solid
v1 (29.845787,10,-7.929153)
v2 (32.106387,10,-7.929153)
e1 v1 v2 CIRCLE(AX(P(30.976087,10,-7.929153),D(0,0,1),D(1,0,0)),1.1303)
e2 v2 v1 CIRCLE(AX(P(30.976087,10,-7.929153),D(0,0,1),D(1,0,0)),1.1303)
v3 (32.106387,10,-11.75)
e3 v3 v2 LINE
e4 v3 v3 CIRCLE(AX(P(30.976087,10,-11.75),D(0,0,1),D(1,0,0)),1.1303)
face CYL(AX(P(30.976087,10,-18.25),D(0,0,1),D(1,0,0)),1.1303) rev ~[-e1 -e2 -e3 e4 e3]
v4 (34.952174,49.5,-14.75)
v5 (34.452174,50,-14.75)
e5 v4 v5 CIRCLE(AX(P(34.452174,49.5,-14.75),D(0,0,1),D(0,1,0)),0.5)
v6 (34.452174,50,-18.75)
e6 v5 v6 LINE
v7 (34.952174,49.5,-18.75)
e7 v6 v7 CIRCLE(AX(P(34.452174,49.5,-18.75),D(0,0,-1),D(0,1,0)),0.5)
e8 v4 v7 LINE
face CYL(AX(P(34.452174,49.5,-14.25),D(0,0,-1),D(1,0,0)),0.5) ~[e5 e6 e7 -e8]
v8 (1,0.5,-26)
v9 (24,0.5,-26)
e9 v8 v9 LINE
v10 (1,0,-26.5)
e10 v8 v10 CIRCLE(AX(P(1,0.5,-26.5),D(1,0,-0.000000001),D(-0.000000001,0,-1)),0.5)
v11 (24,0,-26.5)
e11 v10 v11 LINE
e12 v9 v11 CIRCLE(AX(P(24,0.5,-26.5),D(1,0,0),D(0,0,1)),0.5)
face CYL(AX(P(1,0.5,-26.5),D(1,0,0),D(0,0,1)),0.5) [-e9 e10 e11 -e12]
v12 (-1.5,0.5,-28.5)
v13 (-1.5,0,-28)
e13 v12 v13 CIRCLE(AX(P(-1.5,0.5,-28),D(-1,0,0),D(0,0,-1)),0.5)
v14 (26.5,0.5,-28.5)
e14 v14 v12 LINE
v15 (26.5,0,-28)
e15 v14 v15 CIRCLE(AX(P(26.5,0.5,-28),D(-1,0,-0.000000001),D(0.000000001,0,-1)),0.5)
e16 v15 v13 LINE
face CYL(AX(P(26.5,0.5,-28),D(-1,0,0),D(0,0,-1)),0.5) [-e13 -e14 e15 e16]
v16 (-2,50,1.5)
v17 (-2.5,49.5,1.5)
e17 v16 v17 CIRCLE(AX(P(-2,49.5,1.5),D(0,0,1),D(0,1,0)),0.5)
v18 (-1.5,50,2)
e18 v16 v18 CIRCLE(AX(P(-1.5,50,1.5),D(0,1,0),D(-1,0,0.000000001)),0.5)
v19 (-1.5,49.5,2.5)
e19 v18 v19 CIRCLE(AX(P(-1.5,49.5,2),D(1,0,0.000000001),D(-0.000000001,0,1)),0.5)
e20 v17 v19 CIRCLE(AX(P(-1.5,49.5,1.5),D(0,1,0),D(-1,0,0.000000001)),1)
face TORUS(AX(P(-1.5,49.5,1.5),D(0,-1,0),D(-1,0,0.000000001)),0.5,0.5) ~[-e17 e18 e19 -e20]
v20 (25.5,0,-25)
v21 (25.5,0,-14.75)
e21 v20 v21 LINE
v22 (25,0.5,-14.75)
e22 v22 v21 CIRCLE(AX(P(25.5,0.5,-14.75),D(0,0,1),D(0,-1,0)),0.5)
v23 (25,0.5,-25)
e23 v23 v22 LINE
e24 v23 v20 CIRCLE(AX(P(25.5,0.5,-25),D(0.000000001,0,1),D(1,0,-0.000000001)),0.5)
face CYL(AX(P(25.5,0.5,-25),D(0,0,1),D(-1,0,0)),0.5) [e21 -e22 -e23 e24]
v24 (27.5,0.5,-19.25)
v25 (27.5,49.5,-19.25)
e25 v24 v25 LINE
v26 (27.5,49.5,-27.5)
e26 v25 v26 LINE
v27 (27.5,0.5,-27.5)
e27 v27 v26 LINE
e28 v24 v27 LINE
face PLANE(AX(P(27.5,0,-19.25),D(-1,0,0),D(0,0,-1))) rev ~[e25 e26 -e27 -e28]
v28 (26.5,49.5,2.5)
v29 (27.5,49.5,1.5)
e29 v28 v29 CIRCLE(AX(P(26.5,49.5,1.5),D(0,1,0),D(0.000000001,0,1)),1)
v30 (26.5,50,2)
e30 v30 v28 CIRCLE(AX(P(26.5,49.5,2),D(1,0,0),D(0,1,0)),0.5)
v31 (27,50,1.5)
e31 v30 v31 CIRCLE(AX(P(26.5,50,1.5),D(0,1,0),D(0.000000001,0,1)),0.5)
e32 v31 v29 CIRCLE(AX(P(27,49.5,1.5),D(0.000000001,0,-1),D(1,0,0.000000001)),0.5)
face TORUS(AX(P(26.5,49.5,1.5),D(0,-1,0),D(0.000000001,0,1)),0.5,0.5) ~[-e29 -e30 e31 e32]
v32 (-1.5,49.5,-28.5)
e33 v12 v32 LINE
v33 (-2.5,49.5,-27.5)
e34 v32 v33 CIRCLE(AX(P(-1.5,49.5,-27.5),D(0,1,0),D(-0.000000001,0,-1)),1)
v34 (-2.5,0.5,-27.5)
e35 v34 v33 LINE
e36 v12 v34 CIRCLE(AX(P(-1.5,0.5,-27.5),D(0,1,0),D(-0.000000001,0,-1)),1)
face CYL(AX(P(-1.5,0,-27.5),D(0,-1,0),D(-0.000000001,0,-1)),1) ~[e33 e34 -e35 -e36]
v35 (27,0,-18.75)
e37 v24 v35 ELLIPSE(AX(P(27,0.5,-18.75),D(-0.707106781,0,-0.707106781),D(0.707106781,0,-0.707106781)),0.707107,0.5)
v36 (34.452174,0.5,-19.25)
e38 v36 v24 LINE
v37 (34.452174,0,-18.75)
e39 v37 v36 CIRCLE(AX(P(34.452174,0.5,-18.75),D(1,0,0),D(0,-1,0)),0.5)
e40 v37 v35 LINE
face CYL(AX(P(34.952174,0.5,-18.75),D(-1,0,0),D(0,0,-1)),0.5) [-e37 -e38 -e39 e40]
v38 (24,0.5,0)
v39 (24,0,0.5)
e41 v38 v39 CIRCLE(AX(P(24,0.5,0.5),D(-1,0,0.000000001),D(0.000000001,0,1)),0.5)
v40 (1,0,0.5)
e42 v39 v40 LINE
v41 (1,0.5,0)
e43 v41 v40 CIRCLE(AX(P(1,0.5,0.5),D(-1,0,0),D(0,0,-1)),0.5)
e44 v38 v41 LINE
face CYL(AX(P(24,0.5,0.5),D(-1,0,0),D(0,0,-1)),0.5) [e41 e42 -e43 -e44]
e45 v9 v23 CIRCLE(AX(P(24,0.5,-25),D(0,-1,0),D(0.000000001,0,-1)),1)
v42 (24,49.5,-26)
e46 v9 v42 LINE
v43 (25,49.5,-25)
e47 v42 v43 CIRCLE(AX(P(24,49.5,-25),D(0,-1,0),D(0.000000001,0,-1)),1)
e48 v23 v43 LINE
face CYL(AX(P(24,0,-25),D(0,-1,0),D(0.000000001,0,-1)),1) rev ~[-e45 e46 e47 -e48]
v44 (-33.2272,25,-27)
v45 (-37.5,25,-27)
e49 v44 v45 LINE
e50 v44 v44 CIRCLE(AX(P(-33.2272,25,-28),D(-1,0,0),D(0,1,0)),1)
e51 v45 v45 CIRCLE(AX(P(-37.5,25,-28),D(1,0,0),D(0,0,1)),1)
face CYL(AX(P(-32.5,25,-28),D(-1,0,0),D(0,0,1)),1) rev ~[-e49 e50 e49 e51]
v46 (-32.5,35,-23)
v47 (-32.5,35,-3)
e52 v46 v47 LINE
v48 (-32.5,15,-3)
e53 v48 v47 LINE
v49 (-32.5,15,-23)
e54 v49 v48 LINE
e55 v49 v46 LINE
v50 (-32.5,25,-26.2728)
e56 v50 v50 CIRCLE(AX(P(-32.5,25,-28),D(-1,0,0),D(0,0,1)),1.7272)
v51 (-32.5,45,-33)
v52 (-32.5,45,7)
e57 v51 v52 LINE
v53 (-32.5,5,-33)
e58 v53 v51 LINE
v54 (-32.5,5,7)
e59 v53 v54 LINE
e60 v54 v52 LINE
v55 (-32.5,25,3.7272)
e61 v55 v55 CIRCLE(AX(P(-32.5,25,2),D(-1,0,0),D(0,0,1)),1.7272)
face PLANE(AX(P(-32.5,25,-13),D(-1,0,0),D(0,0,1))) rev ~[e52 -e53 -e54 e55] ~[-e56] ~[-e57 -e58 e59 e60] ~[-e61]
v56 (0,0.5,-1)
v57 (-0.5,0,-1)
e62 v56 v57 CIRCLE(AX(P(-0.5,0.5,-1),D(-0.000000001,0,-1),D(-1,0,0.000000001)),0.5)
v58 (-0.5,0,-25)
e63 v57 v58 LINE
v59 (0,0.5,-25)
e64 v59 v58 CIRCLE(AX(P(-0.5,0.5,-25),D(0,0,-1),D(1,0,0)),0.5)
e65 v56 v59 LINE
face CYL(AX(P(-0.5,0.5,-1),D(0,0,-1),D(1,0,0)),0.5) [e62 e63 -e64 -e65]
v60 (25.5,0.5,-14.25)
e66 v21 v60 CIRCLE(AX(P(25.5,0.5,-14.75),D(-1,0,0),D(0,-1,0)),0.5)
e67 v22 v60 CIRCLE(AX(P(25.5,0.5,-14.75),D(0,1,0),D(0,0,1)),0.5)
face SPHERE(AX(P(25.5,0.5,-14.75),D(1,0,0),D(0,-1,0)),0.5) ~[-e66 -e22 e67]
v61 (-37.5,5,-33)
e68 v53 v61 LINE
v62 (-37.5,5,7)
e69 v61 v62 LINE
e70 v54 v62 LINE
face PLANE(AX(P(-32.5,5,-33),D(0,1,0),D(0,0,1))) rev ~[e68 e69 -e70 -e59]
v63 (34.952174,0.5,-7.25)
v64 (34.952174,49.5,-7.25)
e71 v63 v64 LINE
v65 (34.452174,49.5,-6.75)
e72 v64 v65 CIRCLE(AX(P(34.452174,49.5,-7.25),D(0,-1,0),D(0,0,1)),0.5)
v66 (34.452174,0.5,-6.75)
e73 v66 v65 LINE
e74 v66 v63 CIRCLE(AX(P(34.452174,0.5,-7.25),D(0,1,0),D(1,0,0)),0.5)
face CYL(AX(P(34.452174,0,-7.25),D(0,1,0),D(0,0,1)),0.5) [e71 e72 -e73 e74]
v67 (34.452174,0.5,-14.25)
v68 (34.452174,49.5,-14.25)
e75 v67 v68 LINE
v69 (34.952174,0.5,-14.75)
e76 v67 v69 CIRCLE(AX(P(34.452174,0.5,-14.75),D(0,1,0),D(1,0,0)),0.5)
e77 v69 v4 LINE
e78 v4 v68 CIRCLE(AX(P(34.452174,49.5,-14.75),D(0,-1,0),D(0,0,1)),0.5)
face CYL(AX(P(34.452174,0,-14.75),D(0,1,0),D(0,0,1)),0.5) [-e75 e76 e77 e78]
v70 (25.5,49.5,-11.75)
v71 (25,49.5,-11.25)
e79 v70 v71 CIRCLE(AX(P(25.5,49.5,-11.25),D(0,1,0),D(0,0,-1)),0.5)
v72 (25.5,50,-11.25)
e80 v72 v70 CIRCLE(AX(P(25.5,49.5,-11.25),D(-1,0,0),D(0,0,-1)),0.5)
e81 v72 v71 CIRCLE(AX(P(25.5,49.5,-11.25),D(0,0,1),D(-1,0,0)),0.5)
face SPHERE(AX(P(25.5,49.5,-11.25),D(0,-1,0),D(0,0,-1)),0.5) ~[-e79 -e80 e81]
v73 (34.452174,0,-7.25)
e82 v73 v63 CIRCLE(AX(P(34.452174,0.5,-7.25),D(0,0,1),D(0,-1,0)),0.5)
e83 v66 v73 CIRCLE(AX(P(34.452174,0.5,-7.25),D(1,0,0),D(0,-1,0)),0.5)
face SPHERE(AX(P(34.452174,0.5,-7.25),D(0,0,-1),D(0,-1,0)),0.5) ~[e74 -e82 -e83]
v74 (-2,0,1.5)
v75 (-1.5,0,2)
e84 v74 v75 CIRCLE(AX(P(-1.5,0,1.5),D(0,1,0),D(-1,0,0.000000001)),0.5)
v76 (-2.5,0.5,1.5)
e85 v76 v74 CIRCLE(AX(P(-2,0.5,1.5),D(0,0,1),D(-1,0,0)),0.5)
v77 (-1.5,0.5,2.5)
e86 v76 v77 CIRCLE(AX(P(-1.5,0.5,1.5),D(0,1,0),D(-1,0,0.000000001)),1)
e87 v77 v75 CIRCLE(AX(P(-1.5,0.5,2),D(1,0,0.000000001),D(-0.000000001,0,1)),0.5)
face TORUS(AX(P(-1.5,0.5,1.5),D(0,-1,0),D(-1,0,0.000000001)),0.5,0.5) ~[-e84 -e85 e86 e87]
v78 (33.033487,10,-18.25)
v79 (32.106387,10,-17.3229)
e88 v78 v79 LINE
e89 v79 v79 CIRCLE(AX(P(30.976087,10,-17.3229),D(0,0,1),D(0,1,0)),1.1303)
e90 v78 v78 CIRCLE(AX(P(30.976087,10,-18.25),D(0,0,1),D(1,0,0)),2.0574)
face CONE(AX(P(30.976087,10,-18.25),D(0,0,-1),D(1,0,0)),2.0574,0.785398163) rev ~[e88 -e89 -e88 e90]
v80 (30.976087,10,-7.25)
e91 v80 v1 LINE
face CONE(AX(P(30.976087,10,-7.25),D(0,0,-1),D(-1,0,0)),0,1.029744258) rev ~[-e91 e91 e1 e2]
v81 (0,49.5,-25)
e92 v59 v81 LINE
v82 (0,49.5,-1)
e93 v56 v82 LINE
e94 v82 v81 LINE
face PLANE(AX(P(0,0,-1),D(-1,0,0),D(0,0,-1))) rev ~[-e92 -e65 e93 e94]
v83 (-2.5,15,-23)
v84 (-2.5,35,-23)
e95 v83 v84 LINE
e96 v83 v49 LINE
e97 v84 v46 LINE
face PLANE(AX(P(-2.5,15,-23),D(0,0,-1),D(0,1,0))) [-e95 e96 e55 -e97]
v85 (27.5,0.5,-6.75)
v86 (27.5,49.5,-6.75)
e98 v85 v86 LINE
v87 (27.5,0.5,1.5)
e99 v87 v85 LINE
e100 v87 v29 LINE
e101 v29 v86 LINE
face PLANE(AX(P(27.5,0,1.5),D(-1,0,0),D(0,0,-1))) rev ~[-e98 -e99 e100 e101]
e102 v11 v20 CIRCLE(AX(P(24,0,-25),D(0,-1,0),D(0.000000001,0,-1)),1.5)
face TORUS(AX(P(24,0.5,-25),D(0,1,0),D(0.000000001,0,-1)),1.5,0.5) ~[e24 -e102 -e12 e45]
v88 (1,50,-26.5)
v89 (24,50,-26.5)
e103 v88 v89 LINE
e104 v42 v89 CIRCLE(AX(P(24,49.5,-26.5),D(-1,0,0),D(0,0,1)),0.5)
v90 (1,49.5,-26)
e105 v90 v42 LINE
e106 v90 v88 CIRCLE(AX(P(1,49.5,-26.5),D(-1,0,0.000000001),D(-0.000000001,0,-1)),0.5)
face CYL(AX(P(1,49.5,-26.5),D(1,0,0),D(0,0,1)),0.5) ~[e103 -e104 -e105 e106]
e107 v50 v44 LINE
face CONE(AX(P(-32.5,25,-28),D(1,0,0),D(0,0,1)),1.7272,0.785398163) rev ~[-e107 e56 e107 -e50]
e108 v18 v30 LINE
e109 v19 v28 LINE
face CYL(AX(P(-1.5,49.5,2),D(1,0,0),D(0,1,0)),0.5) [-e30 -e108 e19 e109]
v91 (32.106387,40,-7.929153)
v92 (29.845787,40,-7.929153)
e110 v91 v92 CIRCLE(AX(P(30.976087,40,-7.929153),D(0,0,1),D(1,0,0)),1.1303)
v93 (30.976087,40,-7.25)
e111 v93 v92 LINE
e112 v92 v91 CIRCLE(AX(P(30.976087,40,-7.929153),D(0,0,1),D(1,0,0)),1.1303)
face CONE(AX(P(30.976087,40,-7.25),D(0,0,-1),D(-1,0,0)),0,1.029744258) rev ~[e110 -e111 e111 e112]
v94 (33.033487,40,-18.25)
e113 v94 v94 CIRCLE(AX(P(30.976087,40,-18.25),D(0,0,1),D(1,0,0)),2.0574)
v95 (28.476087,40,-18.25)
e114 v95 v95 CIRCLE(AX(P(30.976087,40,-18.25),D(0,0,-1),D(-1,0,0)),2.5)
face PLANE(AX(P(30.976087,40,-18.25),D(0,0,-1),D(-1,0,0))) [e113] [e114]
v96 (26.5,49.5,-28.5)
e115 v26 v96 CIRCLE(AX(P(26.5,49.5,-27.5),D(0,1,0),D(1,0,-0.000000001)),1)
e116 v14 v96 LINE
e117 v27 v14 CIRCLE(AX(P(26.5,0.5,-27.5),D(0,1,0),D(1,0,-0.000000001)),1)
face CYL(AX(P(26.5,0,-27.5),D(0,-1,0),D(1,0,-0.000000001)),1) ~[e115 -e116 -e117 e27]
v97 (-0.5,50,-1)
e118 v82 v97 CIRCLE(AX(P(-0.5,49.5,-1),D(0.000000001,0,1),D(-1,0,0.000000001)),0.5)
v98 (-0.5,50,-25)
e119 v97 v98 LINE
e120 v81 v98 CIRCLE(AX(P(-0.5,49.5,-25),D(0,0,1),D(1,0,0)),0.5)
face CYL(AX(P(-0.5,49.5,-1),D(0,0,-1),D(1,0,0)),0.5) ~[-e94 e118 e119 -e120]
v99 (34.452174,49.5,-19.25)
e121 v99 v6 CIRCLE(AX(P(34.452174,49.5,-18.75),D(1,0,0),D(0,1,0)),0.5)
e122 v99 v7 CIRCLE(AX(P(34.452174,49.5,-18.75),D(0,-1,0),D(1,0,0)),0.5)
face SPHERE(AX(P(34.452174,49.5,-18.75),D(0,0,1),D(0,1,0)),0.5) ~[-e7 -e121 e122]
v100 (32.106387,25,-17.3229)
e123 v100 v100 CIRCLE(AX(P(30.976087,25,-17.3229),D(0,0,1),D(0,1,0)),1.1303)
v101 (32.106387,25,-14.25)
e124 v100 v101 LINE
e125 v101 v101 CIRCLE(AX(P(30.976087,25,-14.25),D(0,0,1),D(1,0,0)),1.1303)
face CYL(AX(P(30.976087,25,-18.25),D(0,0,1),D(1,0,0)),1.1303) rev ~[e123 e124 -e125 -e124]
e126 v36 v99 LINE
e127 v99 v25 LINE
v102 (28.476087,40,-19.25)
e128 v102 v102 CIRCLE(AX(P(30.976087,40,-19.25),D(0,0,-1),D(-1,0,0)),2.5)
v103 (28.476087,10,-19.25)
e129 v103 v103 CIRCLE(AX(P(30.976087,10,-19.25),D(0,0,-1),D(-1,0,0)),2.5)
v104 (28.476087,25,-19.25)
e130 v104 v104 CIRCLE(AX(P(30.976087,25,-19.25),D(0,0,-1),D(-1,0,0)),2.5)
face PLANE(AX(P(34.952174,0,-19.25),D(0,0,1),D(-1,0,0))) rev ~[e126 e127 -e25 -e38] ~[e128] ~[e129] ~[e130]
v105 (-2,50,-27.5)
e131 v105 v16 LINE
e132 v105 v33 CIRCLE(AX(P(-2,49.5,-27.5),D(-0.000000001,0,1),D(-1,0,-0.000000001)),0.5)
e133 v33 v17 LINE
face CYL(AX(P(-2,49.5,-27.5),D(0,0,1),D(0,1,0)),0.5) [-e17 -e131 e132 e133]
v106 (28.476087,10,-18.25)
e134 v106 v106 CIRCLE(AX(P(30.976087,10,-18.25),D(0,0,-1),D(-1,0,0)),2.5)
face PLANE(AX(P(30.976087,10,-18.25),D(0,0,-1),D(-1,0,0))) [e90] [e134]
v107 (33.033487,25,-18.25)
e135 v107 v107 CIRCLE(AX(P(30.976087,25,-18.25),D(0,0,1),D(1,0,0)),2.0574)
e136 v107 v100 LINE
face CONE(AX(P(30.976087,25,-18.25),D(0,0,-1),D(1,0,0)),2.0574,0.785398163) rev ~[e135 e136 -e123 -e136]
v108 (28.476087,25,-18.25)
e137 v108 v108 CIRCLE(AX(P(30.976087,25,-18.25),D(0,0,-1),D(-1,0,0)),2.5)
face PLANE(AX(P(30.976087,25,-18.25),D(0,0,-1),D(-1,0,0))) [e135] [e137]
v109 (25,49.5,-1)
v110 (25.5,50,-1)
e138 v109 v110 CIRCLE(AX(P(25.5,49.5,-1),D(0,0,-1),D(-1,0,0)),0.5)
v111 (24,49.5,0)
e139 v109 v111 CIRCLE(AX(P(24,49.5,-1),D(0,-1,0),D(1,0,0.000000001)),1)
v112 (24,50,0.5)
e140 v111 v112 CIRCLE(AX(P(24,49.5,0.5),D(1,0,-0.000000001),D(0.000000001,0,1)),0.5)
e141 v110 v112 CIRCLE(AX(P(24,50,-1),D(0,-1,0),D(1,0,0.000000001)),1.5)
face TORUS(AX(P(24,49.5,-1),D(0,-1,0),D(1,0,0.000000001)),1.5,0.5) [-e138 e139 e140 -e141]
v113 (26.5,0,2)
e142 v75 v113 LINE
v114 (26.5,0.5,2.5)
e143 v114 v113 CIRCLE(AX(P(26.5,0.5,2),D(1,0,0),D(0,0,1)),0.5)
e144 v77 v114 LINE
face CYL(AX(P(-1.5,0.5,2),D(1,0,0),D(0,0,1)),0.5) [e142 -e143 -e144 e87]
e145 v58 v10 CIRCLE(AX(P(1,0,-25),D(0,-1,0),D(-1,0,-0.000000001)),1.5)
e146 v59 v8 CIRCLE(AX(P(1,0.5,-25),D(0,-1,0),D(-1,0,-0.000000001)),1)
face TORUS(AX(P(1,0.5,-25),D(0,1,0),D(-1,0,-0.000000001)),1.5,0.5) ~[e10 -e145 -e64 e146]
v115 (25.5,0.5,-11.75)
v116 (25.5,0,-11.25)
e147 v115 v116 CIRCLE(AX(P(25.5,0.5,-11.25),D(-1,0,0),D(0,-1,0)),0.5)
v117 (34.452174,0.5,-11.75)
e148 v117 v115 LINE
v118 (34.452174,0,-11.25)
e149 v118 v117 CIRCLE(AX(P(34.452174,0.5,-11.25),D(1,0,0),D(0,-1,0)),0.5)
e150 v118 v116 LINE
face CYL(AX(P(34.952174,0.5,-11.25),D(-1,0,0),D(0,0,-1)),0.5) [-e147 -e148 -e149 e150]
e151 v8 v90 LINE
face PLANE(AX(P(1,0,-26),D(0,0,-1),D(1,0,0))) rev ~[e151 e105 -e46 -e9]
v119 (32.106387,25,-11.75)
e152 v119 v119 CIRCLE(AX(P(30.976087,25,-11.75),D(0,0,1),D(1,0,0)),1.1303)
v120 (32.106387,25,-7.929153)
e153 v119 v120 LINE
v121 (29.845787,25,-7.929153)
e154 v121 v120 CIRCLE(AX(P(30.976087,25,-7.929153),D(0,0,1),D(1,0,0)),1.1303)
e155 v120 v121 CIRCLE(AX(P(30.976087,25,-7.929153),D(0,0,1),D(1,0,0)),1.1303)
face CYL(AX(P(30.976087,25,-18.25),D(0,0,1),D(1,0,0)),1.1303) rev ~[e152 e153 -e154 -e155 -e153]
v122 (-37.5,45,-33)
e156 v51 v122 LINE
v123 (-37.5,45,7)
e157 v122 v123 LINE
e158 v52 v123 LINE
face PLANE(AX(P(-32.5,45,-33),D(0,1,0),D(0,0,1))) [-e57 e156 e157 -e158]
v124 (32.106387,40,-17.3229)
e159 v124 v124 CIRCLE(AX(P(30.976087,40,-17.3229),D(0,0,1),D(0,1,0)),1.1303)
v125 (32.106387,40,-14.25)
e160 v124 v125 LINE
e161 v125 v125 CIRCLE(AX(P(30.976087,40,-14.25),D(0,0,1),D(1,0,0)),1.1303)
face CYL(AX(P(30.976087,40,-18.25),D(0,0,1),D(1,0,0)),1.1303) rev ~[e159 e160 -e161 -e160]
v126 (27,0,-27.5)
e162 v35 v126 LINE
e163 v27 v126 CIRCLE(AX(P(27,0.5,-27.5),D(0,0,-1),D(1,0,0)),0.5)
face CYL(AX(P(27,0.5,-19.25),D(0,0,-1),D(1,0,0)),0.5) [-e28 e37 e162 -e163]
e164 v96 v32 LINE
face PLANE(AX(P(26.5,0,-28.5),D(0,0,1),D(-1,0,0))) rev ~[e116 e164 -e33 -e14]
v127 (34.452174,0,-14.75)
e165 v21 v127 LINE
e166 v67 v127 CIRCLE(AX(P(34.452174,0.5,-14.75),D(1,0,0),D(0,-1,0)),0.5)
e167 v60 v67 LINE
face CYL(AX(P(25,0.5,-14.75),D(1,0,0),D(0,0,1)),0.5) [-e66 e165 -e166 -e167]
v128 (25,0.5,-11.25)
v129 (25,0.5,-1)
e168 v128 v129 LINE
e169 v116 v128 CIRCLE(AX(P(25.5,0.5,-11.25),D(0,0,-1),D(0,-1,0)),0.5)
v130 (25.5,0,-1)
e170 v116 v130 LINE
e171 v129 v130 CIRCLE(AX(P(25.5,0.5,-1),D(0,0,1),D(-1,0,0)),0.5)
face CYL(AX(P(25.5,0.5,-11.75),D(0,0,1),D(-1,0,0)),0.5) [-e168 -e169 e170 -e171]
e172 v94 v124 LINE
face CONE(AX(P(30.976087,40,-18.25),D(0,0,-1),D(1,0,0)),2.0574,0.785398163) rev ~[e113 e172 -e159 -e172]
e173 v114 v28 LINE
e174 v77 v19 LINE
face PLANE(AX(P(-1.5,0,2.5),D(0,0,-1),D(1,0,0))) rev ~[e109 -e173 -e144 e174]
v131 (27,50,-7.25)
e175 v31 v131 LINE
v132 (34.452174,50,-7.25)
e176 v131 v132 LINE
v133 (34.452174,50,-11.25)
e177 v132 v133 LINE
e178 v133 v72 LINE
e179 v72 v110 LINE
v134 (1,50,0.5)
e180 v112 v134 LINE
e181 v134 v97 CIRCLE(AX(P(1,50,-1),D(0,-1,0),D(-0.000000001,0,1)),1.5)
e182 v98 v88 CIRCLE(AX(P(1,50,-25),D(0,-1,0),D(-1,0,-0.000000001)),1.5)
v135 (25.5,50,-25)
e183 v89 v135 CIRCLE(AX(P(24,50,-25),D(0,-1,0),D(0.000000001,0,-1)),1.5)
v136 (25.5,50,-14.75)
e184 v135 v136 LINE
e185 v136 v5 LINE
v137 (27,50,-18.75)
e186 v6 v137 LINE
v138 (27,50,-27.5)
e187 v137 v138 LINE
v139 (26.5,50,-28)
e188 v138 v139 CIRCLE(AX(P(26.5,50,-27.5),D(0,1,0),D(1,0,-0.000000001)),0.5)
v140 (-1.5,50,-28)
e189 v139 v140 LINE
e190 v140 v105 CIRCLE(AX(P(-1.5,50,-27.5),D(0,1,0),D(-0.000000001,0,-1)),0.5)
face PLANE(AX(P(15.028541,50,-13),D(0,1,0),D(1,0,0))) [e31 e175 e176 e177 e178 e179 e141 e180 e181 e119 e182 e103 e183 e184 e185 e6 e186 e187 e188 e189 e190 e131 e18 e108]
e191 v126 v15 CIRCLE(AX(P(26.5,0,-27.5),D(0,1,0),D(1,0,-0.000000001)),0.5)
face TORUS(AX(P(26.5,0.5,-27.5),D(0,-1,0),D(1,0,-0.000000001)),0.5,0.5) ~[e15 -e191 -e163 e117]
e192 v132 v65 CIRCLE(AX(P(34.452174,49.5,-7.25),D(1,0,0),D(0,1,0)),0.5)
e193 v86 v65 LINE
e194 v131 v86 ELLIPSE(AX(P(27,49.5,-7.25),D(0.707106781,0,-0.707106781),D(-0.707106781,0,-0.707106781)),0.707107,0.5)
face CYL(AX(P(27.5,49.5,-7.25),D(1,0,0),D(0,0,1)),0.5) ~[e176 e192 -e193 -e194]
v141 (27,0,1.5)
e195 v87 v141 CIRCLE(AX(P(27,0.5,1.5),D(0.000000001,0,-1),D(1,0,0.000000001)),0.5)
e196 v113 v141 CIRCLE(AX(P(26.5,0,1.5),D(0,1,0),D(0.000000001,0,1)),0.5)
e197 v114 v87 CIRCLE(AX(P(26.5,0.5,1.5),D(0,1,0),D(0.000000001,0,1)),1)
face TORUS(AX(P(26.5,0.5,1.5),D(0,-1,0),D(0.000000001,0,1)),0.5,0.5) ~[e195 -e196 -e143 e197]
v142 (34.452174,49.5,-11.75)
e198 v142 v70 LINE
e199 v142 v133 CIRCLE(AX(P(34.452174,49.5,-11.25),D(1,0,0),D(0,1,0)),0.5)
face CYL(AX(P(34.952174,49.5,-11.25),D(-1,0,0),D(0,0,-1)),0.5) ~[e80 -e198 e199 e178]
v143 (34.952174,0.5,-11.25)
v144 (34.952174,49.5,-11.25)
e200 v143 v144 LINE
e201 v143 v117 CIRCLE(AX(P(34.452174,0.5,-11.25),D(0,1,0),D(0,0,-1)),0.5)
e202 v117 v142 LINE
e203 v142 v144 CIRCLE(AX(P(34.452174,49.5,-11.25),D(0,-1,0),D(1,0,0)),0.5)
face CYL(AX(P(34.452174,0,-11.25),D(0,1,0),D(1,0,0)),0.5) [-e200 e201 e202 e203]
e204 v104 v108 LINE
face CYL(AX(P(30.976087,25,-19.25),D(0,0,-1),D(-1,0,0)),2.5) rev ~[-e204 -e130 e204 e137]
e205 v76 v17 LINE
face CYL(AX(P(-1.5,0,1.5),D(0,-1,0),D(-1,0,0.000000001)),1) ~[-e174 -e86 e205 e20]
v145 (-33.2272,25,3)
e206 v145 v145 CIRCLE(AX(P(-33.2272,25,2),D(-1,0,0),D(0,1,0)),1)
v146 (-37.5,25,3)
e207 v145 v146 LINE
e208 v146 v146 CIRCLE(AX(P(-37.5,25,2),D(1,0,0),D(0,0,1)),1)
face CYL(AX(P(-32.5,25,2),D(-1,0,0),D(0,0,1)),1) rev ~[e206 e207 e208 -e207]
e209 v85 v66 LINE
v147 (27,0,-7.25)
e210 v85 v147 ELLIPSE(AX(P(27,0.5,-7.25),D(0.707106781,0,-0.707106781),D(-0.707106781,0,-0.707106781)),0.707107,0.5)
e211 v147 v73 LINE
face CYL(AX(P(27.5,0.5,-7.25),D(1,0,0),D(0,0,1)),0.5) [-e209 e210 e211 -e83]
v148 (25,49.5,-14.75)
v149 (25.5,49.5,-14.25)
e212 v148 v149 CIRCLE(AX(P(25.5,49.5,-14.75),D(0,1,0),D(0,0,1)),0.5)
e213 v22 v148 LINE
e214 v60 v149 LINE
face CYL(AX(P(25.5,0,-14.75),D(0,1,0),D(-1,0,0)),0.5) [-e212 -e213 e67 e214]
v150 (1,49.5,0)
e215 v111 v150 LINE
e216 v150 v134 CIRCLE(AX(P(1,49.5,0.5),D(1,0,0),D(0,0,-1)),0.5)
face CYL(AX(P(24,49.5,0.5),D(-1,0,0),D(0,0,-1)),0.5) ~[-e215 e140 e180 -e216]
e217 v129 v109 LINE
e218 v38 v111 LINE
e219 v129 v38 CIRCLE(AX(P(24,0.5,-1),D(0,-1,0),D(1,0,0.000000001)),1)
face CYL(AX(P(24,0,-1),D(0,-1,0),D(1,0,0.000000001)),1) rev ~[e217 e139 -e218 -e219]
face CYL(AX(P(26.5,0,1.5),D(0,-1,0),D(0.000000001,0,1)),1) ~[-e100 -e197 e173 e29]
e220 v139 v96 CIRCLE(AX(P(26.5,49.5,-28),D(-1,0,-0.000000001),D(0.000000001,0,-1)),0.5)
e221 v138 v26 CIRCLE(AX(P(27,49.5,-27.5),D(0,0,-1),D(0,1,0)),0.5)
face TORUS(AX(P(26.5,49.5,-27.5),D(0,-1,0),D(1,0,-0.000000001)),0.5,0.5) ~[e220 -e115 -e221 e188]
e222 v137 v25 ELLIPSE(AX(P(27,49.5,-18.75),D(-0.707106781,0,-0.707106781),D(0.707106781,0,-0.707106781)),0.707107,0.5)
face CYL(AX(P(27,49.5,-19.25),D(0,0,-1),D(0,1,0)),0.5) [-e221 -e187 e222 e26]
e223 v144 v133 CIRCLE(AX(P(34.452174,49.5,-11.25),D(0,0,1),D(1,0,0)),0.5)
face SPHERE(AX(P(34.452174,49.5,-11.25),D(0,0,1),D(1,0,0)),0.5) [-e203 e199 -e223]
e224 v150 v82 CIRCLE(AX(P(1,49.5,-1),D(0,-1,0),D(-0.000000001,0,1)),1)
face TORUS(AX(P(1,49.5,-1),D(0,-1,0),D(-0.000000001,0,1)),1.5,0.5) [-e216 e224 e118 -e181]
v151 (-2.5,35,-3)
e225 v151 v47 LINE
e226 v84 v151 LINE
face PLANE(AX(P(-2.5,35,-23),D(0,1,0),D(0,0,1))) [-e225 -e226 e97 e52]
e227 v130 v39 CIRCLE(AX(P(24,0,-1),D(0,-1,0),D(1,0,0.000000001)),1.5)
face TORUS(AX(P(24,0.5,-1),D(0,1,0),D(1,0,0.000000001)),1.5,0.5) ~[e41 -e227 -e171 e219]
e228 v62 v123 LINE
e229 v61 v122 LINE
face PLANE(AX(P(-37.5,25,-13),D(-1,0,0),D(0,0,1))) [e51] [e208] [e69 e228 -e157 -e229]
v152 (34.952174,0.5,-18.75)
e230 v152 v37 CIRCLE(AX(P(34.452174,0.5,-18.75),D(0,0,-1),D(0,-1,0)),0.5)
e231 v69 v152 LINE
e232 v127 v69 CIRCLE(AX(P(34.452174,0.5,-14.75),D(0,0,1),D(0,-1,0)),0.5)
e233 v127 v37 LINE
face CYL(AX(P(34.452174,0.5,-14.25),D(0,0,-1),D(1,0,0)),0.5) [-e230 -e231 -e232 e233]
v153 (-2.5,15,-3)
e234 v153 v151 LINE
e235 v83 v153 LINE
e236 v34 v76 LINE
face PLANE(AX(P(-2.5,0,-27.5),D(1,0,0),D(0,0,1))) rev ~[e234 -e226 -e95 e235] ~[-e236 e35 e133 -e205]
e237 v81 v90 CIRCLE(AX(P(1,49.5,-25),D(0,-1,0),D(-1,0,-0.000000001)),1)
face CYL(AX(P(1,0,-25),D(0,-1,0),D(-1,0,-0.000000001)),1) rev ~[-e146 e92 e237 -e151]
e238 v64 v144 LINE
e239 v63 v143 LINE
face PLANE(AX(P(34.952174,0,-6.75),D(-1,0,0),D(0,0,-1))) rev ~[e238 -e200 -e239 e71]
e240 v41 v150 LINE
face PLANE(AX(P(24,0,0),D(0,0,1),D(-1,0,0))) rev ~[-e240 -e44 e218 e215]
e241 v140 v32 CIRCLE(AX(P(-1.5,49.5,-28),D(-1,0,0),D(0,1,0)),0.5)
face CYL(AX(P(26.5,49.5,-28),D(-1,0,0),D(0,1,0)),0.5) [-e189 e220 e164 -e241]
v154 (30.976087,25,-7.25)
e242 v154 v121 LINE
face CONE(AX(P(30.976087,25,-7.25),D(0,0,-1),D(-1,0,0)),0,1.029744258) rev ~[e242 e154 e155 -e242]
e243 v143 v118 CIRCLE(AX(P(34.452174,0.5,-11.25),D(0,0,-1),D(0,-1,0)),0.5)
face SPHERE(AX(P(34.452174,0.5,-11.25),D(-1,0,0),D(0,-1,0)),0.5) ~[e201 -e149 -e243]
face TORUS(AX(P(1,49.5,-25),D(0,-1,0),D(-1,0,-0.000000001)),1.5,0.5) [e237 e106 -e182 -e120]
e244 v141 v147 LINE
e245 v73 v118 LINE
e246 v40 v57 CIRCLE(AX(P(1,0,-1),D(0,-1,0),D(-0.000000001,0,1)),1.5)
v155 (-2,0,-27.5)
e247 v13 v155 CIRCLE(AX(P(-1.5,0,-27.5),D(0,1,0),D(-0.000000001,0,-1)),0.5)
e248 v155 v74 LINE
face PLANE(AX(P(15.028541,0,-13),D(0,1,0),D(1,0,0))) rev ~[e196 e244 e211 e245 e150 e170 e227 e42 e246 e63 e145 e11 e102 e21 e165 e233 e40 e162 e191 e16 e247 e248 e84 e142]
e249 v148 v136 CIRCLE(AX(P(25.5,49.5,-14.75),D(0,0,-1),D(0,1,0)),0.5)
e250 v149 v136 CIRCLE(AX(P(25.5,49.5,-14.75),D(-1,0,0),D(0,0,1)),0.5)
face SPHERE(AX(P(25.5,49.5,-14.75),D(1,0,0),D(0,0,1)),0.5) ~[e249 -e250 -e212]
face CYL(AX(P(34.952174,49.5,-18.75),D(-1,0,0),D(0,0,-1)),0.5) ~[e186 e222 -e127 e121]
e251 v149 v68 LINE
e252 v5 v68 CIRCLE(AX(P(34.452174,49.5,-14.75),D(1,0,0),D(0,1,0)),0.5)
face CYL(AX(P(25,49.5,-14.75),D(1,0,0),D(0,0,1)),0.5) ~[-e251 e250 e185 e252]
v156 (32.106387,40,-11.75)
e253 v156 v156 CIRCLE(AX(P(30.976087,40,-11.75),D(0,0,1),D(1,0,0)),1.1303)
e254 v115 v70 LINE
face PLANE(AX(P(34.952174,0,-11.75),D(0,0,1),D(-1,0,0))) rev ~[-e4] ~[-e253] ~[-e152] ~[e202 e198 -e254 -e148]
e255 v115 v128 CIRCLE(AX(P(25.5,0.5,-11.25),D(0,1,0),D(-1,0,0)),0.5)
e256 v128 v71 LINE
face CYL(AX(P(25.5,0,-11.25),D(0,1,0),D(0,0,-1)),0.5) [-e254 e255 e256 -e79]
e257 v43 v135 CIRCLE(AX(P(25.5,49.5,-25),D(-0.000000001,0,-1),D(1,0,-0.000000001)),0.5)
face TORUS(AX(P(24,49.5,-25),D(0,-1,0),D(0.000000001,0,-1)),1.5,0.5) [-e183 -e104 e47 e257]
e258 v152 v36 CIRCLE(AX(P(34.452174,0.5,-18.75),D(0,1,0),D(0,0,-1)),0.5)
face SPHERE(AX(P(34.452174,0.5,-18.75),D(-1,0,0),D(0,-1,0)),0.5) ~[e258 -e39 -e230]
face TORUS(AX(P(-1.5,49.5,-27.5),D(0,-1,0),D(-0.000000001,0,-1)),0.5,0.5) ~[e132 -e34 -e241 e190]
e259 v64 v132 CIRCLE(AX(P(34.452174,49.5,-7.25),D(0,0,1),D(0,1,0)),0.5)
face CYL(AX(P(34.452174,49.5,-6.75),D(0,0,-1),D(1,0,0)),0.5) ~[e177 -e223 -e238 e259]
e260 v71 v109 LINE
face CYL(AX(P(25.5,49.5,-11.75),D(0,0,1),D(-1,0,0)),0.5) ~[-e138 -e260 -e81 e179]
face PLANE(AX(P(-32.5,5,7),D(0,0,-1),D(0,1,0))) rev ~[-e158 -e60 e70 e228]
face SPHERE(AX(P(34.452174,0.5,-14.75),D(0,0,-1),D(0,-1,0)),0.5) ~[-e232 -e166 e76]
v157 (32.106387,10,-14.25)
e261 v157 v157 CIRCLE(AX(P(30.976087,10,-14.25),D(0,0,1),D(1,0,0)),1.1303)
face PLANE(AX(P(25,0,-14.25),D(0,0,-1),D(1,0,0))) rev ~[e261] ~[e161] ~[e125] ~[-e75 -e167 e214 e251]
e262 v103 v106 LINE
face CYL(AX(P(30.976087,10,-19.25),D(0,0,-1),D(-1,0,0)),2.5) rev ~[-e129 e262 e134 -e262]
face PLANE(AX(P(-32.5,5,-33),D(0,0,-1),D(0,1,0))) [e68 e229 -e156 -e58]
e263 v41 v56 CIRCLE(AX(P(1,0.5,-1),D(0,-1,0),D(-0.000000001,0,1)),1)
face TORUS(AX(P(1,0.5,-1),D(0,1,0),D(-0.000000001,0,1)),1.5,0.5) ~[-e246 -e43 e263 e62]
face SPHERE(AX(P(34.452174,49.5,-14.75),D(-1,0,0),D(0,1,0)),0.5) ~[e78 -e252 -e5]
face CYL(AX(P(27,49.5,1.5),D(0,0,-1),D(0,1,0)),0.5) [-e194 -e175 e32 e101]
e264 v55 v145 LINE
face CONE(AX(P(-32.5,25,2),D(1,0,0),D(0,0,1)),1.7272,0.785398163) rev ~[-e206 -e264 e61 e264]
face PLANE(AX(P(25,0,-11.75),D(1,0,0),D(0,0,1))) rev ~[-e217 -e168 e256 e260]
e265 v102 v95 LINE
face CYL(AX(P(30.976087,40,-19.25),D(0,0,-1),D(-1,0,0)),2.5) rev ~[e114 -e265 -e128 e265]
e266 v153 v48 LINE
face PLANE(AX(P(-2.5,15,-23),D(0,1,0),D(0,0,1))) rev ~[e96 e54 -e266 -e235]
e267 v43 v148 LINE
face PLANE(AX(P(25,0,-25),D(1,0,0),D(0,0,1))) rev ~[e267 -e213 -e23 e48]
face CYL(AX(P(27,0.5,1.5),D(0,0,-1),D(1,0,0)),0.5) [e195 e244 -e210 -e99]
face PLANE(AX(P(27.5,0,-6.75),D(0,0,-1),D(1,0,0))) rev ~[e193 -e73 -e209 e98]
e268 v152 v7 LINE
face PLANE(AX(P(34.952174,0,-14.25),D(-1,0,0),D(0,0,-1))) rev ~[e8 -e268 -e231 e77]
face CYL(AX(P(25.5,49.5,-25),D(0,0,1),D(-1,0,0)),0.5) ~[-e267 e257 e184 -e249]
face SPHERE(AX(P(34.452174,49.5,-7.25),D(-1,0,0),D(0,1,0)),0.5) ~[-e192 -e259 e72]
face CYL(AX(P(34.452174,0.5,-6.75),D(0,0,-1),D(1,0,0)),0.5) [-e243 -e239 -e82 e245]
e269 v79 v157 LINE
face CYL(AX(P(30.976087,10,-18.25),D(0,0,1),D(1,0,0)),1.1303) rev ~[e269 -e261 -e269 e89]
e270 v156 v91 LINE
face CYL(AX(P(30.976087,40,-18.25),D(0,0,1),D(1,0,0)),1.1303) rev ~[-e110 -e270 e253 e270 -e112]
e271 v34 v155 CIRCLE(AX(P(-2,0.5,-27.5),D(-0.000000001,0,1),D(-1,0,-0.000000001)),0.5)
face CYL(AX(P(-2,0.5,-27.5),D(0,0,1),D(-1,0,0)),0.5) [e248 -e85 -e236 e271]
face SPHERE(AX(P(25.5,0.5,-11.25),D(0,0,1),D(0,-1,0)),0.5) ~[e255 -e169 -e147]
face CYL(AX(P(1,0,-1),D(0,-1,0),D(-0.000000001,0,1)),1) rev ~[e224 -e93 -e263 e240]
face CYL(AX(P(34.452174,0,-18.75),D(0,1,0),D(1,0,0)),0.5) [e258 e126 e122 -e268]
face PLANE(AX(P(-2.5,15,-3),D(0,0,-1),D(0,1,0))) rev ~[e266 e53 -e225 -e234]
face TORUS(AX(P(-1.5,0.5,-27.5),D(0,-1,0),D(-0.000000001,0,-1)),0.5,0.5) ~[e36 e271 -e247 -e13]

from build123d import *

# Parameters (mm, degrees)
BOSS_EXTRUDE1_DEPTH             = 50
SKETCH5_W                       = 20
SKETCH5_H                       = 20
BOSS_EXTRUDE2_DEPTH             = 30
SKETCH6_W                       = 40
SKETCH6_H                       = 40
BOSS_EXTRUDE3_DEPTH             = 5
F_2_64_TAPPED_HOLE1_D           = 2.000000064
F_2_64_TAPPED_HOLE1_DEPTH       = 5
F_2_64_TAPPED_HOLE1_CSINK_D     = 3.4544
F_2_64_TAPPED_HOLE1_CSINK_ANGLE = 90
F_2_64_TAPPED_HOLE1_TIP         = 0.600860638
FILLET2_R                       = 0.5
SKETCH12_R                      = 2.5
CUT_EXTRUDE1_DEPTH              = 1
F_4_40_TAPPED_HOLE1_D           = 2.2606
F_4_40_TAPPED_HOLE1_DEPTH       = 10.320847242
F_4_40_TAPPED_HOLE1_CSINK_D     = 4.1148
F_4_40_TAPPED_HOLE1_CSINK_ANGLE = 90
F_4_40_TAPPED_HOLE1_TIP         = 0.679152758


with BuildPart() as part:
    # Sketch1 → Boss-Extrude1 (new body)
    with BuildSketch(Plane(origin=(0, 0, 0), x_dir=(1, 0, 0), z_dir=(0, 1, 0))):
        with BuildLine():
            Line((34.952174036, 11.75), (25, 11.75))
            Line((25, 11.75), (25, 1))
            ThreePointArc((25, 1), (24.707106781, 0.292893219), (24, 0))
            Line((24, 0), (1, 0))
            ThreePointArc((1, 0), (0.292893219, 0.292893219), (0, 1))
            Line((0, 1), (0, 25))
            ThreePointArc((0, 25), (0.292893219, 25.707106781), (1, 26))
            Line((1, 26), (24, 26))
            ThreePointArc((24, 26), (24.707106781, 25.707106781), (25, 25))
            Line((25, 25), (25, 14.25))
            Line((25, 14.25), (34.952174036, 14.25))
            Line((34.952174036, 14.25), (34.952174036, 19.25))
            Line((34.952174036, 19.25), (27.5, 19.25))
            Line((27.5, 19.25), (27.5, 27.5))
            ThreePointArc((27.5, 27.5), (27.207106781, 28.207106781), (26.5, 28.5))
            Line((26.5, 28.5), (-1.5, 28.5))
            ThreePointArc((-1.5, 28.5), (-2.207106781, 28.207106781), (-2.5, 27.5))
            Line((-2.5, 27.5), (-2.5, -1.5))
            ThreePointArc((-2.5, -1.5), (-2.207106781, -2.207106781), (-1.5, -2.5))
            Line((-1.5, -2.5), (26.5, -2.5))
            ThreePointArc((26.5, -2.5), (27.207106781, -2.207106781), (27.5, -1.5))
            Line((27.5, -1.5), (27.5, 6.75))
            Line((27.5, 6.75), (34.952174036, 6.75))
            Line((34.952174036, 6.75), (34.952174036, 11.75))
        make_face()
    extrude(amount=BOSS_EXTRUDE1_DEPTH)

    # Sketch5 → Boss-Extrude2 (add)
    with BuildSketch(Plane.ZY.offset(2.5)):
        with Locations((-13, 25)):
            Rectangle(SKETCH5_W, SKETCH5_H)
    extrude(amount=BOSS_EXTRUDE2_DEPTH)

    # Sketch6 → Boss-Extrude3 (add)
    with BuildSketch(Plane.ZY.offset(32.5)):
        with Locations((-13, 25)):
            Rectangle(SKETCH6_W, SKETCH6_H)
    extrude(amount=BOSS_EXTRUDE3_DEPTH)

    # #2-64 Tapped Hole1
    with Locations(Plane(origin=(-32.5, 0, 0), x_dir=(0, 0, -1), z_dir=(1, 0, 0))):
        with Locations((-2, 25), (28, 25)):
            CounterSinkHole(F_2_64_TAPPED_HOLE1_D / 2, F_2_64_TAPPED_HOLE1_CSINK_D / 2, depth=F_2_64_TAPPED_HOLE1_DEPTH, counter_sink_angle=F_2_64_TAPPED_HOLE1_CSINK_ANGLE)
            with Locations((0, 0, -(F_2_64_TAPPED_HOLE1_DEPTH + F_2_64_TAPPED_HOLE1_TIP / 2))):  # 118° drill point
                Cone(0, F_2_64_TAPPED_HOLE1_D / 2, F_2_64_TAPPED_HOLE1_TIP, mode=Mode.SUBTRACT)

    # Fillet2
    fillet2_edges = [part.edges().sort_by_distance(p)[0] for p in [
        (-2.207106781, 50, -28.207106781),
        (29.976087018, 50, -14.25),
        (34.952174036, 50, -16.75),
        (31.226087018, 50, -19.25),
        (27.5, 50, -23.375),
        (27.207106781, 50, -28.207106781),
        (-2.5, 50, -13),
        (-2.207106781, 50, 2.207106781),
        (12.5, 50, 2.5),
        (27.207106781, 0, -28.207106781),
        (27.5, 0, -23.375),
        (31.226087018, 0, -19.25),
        (34.952174036, 0, -16.75),
        (29.976087018, 0, -14.25),
        (25, 0, -19.625),
        (24.707106781, 0, -25.707106781),
        (12.5, 0, -26),
        (27.207106781, 50, 2.207106781),
        (0.292893219, 0, -25.707106781),
        (0, 0, -13),
        (0.292893219, 0, -0.292893219),
        (12.5, 0, 0),
        (24.707106781, 0, -0.292893219),
        (25, 0, -6.375),
        (29.976087018, 0, -11.75),
        (34.952174036, 0, -9.25),
        (31.226087018, 0, -6.75),
        (27.5, 50, -2.625),
        (27.5, 0, -2.625),
        (27.207106781, 0, 2.207106781),
        (12.5, 0, 2.5),
        (-2.207106781, 0, 2.207106781),
        (-2.5, 0, -13),
        (-2.207106781, 0, -28.207106781),
        (12.5, 0, -28.5),
        (31.226087018, 50, -6.75),
        (34.952174036, 50, -9.25),
        (34.952174036, 25, -19.25),
        (34.952174036, 25, -14.25),
        (25, 25, -14.25),
        (25, 25, -11.75),
        (34.952174036, 25, -11.75),
        (34.952174036, 25, -6.75),
        (12.5, 50, -28.5),
        (29.976087018, 50, -11.75),
        (25, 50, -6.375),
        (24.707106781, 50, -0.292893219),
        (12.5, 50, 0),
        (0.292893219, 50, -0.292893219),
        (0, 50, -13),
        (0.292893219, 50, -25.707106781),
        (12.5, 50, -26),
        (24.707106781, 50, -25.707106781),
        (25, 50, -19.625),
    ]]
    fillet(fillet2_edges, radius=FILLET2_R)

    # Sketch12 → Cut-Extrude1 (cut)
    with BuildSketch(Plane(origin=(0, 0, -19.25), x_dir=(-1, 0, 0), z_dir=(0, 0, -1))):
        with Locations((-30.976087018, 40)):
            Circle(SKETCH12_R)
        with Locations((-30.976087018, 25)):
            Circle(SKETCH12_R)
        with Locations((-30.976087018, 10)):
            Circle(SKETCH12_R)
    extrude(amount=-CUT_EXTRUDE1_DEPTH, mode=Mode.SUBTRACT)

    # #4-40 Tapped Hole1
    with Locations(Plane(origin=(0, 0, -18.25), x_dir=(-1, 0, 0), z_dir=(0, 0, -1))):
        with Locations((-30.976087018, 40), (-30.976087018, 25), (-30.976087018, 10)):
            CounterSinkHole(F_4_40_TAPPED_HOLE1_D / 2, F_4_40_TAPPED_HOLE1_CSINK_D / 2, depth=F_4_40_TAPPED_HOLE1_DEPTH, counter_sink_angle=F_4_40_TAPPED_HOLE1_CSINK_ANGLE)
            with Locations((0, 0, -(F_4_40_TAPPED_HOLE1_DEPTH + F_4_40_TAPPED_HOLE1_TIP / 2))):  # 118° drill point
                Cone(0, F_4_40_TAPPED_HOLE1_D / 2, F_4_40_TAPPED_HOLE1_TIP, mode=Mode.SUBTRACT)


solid = part.part
